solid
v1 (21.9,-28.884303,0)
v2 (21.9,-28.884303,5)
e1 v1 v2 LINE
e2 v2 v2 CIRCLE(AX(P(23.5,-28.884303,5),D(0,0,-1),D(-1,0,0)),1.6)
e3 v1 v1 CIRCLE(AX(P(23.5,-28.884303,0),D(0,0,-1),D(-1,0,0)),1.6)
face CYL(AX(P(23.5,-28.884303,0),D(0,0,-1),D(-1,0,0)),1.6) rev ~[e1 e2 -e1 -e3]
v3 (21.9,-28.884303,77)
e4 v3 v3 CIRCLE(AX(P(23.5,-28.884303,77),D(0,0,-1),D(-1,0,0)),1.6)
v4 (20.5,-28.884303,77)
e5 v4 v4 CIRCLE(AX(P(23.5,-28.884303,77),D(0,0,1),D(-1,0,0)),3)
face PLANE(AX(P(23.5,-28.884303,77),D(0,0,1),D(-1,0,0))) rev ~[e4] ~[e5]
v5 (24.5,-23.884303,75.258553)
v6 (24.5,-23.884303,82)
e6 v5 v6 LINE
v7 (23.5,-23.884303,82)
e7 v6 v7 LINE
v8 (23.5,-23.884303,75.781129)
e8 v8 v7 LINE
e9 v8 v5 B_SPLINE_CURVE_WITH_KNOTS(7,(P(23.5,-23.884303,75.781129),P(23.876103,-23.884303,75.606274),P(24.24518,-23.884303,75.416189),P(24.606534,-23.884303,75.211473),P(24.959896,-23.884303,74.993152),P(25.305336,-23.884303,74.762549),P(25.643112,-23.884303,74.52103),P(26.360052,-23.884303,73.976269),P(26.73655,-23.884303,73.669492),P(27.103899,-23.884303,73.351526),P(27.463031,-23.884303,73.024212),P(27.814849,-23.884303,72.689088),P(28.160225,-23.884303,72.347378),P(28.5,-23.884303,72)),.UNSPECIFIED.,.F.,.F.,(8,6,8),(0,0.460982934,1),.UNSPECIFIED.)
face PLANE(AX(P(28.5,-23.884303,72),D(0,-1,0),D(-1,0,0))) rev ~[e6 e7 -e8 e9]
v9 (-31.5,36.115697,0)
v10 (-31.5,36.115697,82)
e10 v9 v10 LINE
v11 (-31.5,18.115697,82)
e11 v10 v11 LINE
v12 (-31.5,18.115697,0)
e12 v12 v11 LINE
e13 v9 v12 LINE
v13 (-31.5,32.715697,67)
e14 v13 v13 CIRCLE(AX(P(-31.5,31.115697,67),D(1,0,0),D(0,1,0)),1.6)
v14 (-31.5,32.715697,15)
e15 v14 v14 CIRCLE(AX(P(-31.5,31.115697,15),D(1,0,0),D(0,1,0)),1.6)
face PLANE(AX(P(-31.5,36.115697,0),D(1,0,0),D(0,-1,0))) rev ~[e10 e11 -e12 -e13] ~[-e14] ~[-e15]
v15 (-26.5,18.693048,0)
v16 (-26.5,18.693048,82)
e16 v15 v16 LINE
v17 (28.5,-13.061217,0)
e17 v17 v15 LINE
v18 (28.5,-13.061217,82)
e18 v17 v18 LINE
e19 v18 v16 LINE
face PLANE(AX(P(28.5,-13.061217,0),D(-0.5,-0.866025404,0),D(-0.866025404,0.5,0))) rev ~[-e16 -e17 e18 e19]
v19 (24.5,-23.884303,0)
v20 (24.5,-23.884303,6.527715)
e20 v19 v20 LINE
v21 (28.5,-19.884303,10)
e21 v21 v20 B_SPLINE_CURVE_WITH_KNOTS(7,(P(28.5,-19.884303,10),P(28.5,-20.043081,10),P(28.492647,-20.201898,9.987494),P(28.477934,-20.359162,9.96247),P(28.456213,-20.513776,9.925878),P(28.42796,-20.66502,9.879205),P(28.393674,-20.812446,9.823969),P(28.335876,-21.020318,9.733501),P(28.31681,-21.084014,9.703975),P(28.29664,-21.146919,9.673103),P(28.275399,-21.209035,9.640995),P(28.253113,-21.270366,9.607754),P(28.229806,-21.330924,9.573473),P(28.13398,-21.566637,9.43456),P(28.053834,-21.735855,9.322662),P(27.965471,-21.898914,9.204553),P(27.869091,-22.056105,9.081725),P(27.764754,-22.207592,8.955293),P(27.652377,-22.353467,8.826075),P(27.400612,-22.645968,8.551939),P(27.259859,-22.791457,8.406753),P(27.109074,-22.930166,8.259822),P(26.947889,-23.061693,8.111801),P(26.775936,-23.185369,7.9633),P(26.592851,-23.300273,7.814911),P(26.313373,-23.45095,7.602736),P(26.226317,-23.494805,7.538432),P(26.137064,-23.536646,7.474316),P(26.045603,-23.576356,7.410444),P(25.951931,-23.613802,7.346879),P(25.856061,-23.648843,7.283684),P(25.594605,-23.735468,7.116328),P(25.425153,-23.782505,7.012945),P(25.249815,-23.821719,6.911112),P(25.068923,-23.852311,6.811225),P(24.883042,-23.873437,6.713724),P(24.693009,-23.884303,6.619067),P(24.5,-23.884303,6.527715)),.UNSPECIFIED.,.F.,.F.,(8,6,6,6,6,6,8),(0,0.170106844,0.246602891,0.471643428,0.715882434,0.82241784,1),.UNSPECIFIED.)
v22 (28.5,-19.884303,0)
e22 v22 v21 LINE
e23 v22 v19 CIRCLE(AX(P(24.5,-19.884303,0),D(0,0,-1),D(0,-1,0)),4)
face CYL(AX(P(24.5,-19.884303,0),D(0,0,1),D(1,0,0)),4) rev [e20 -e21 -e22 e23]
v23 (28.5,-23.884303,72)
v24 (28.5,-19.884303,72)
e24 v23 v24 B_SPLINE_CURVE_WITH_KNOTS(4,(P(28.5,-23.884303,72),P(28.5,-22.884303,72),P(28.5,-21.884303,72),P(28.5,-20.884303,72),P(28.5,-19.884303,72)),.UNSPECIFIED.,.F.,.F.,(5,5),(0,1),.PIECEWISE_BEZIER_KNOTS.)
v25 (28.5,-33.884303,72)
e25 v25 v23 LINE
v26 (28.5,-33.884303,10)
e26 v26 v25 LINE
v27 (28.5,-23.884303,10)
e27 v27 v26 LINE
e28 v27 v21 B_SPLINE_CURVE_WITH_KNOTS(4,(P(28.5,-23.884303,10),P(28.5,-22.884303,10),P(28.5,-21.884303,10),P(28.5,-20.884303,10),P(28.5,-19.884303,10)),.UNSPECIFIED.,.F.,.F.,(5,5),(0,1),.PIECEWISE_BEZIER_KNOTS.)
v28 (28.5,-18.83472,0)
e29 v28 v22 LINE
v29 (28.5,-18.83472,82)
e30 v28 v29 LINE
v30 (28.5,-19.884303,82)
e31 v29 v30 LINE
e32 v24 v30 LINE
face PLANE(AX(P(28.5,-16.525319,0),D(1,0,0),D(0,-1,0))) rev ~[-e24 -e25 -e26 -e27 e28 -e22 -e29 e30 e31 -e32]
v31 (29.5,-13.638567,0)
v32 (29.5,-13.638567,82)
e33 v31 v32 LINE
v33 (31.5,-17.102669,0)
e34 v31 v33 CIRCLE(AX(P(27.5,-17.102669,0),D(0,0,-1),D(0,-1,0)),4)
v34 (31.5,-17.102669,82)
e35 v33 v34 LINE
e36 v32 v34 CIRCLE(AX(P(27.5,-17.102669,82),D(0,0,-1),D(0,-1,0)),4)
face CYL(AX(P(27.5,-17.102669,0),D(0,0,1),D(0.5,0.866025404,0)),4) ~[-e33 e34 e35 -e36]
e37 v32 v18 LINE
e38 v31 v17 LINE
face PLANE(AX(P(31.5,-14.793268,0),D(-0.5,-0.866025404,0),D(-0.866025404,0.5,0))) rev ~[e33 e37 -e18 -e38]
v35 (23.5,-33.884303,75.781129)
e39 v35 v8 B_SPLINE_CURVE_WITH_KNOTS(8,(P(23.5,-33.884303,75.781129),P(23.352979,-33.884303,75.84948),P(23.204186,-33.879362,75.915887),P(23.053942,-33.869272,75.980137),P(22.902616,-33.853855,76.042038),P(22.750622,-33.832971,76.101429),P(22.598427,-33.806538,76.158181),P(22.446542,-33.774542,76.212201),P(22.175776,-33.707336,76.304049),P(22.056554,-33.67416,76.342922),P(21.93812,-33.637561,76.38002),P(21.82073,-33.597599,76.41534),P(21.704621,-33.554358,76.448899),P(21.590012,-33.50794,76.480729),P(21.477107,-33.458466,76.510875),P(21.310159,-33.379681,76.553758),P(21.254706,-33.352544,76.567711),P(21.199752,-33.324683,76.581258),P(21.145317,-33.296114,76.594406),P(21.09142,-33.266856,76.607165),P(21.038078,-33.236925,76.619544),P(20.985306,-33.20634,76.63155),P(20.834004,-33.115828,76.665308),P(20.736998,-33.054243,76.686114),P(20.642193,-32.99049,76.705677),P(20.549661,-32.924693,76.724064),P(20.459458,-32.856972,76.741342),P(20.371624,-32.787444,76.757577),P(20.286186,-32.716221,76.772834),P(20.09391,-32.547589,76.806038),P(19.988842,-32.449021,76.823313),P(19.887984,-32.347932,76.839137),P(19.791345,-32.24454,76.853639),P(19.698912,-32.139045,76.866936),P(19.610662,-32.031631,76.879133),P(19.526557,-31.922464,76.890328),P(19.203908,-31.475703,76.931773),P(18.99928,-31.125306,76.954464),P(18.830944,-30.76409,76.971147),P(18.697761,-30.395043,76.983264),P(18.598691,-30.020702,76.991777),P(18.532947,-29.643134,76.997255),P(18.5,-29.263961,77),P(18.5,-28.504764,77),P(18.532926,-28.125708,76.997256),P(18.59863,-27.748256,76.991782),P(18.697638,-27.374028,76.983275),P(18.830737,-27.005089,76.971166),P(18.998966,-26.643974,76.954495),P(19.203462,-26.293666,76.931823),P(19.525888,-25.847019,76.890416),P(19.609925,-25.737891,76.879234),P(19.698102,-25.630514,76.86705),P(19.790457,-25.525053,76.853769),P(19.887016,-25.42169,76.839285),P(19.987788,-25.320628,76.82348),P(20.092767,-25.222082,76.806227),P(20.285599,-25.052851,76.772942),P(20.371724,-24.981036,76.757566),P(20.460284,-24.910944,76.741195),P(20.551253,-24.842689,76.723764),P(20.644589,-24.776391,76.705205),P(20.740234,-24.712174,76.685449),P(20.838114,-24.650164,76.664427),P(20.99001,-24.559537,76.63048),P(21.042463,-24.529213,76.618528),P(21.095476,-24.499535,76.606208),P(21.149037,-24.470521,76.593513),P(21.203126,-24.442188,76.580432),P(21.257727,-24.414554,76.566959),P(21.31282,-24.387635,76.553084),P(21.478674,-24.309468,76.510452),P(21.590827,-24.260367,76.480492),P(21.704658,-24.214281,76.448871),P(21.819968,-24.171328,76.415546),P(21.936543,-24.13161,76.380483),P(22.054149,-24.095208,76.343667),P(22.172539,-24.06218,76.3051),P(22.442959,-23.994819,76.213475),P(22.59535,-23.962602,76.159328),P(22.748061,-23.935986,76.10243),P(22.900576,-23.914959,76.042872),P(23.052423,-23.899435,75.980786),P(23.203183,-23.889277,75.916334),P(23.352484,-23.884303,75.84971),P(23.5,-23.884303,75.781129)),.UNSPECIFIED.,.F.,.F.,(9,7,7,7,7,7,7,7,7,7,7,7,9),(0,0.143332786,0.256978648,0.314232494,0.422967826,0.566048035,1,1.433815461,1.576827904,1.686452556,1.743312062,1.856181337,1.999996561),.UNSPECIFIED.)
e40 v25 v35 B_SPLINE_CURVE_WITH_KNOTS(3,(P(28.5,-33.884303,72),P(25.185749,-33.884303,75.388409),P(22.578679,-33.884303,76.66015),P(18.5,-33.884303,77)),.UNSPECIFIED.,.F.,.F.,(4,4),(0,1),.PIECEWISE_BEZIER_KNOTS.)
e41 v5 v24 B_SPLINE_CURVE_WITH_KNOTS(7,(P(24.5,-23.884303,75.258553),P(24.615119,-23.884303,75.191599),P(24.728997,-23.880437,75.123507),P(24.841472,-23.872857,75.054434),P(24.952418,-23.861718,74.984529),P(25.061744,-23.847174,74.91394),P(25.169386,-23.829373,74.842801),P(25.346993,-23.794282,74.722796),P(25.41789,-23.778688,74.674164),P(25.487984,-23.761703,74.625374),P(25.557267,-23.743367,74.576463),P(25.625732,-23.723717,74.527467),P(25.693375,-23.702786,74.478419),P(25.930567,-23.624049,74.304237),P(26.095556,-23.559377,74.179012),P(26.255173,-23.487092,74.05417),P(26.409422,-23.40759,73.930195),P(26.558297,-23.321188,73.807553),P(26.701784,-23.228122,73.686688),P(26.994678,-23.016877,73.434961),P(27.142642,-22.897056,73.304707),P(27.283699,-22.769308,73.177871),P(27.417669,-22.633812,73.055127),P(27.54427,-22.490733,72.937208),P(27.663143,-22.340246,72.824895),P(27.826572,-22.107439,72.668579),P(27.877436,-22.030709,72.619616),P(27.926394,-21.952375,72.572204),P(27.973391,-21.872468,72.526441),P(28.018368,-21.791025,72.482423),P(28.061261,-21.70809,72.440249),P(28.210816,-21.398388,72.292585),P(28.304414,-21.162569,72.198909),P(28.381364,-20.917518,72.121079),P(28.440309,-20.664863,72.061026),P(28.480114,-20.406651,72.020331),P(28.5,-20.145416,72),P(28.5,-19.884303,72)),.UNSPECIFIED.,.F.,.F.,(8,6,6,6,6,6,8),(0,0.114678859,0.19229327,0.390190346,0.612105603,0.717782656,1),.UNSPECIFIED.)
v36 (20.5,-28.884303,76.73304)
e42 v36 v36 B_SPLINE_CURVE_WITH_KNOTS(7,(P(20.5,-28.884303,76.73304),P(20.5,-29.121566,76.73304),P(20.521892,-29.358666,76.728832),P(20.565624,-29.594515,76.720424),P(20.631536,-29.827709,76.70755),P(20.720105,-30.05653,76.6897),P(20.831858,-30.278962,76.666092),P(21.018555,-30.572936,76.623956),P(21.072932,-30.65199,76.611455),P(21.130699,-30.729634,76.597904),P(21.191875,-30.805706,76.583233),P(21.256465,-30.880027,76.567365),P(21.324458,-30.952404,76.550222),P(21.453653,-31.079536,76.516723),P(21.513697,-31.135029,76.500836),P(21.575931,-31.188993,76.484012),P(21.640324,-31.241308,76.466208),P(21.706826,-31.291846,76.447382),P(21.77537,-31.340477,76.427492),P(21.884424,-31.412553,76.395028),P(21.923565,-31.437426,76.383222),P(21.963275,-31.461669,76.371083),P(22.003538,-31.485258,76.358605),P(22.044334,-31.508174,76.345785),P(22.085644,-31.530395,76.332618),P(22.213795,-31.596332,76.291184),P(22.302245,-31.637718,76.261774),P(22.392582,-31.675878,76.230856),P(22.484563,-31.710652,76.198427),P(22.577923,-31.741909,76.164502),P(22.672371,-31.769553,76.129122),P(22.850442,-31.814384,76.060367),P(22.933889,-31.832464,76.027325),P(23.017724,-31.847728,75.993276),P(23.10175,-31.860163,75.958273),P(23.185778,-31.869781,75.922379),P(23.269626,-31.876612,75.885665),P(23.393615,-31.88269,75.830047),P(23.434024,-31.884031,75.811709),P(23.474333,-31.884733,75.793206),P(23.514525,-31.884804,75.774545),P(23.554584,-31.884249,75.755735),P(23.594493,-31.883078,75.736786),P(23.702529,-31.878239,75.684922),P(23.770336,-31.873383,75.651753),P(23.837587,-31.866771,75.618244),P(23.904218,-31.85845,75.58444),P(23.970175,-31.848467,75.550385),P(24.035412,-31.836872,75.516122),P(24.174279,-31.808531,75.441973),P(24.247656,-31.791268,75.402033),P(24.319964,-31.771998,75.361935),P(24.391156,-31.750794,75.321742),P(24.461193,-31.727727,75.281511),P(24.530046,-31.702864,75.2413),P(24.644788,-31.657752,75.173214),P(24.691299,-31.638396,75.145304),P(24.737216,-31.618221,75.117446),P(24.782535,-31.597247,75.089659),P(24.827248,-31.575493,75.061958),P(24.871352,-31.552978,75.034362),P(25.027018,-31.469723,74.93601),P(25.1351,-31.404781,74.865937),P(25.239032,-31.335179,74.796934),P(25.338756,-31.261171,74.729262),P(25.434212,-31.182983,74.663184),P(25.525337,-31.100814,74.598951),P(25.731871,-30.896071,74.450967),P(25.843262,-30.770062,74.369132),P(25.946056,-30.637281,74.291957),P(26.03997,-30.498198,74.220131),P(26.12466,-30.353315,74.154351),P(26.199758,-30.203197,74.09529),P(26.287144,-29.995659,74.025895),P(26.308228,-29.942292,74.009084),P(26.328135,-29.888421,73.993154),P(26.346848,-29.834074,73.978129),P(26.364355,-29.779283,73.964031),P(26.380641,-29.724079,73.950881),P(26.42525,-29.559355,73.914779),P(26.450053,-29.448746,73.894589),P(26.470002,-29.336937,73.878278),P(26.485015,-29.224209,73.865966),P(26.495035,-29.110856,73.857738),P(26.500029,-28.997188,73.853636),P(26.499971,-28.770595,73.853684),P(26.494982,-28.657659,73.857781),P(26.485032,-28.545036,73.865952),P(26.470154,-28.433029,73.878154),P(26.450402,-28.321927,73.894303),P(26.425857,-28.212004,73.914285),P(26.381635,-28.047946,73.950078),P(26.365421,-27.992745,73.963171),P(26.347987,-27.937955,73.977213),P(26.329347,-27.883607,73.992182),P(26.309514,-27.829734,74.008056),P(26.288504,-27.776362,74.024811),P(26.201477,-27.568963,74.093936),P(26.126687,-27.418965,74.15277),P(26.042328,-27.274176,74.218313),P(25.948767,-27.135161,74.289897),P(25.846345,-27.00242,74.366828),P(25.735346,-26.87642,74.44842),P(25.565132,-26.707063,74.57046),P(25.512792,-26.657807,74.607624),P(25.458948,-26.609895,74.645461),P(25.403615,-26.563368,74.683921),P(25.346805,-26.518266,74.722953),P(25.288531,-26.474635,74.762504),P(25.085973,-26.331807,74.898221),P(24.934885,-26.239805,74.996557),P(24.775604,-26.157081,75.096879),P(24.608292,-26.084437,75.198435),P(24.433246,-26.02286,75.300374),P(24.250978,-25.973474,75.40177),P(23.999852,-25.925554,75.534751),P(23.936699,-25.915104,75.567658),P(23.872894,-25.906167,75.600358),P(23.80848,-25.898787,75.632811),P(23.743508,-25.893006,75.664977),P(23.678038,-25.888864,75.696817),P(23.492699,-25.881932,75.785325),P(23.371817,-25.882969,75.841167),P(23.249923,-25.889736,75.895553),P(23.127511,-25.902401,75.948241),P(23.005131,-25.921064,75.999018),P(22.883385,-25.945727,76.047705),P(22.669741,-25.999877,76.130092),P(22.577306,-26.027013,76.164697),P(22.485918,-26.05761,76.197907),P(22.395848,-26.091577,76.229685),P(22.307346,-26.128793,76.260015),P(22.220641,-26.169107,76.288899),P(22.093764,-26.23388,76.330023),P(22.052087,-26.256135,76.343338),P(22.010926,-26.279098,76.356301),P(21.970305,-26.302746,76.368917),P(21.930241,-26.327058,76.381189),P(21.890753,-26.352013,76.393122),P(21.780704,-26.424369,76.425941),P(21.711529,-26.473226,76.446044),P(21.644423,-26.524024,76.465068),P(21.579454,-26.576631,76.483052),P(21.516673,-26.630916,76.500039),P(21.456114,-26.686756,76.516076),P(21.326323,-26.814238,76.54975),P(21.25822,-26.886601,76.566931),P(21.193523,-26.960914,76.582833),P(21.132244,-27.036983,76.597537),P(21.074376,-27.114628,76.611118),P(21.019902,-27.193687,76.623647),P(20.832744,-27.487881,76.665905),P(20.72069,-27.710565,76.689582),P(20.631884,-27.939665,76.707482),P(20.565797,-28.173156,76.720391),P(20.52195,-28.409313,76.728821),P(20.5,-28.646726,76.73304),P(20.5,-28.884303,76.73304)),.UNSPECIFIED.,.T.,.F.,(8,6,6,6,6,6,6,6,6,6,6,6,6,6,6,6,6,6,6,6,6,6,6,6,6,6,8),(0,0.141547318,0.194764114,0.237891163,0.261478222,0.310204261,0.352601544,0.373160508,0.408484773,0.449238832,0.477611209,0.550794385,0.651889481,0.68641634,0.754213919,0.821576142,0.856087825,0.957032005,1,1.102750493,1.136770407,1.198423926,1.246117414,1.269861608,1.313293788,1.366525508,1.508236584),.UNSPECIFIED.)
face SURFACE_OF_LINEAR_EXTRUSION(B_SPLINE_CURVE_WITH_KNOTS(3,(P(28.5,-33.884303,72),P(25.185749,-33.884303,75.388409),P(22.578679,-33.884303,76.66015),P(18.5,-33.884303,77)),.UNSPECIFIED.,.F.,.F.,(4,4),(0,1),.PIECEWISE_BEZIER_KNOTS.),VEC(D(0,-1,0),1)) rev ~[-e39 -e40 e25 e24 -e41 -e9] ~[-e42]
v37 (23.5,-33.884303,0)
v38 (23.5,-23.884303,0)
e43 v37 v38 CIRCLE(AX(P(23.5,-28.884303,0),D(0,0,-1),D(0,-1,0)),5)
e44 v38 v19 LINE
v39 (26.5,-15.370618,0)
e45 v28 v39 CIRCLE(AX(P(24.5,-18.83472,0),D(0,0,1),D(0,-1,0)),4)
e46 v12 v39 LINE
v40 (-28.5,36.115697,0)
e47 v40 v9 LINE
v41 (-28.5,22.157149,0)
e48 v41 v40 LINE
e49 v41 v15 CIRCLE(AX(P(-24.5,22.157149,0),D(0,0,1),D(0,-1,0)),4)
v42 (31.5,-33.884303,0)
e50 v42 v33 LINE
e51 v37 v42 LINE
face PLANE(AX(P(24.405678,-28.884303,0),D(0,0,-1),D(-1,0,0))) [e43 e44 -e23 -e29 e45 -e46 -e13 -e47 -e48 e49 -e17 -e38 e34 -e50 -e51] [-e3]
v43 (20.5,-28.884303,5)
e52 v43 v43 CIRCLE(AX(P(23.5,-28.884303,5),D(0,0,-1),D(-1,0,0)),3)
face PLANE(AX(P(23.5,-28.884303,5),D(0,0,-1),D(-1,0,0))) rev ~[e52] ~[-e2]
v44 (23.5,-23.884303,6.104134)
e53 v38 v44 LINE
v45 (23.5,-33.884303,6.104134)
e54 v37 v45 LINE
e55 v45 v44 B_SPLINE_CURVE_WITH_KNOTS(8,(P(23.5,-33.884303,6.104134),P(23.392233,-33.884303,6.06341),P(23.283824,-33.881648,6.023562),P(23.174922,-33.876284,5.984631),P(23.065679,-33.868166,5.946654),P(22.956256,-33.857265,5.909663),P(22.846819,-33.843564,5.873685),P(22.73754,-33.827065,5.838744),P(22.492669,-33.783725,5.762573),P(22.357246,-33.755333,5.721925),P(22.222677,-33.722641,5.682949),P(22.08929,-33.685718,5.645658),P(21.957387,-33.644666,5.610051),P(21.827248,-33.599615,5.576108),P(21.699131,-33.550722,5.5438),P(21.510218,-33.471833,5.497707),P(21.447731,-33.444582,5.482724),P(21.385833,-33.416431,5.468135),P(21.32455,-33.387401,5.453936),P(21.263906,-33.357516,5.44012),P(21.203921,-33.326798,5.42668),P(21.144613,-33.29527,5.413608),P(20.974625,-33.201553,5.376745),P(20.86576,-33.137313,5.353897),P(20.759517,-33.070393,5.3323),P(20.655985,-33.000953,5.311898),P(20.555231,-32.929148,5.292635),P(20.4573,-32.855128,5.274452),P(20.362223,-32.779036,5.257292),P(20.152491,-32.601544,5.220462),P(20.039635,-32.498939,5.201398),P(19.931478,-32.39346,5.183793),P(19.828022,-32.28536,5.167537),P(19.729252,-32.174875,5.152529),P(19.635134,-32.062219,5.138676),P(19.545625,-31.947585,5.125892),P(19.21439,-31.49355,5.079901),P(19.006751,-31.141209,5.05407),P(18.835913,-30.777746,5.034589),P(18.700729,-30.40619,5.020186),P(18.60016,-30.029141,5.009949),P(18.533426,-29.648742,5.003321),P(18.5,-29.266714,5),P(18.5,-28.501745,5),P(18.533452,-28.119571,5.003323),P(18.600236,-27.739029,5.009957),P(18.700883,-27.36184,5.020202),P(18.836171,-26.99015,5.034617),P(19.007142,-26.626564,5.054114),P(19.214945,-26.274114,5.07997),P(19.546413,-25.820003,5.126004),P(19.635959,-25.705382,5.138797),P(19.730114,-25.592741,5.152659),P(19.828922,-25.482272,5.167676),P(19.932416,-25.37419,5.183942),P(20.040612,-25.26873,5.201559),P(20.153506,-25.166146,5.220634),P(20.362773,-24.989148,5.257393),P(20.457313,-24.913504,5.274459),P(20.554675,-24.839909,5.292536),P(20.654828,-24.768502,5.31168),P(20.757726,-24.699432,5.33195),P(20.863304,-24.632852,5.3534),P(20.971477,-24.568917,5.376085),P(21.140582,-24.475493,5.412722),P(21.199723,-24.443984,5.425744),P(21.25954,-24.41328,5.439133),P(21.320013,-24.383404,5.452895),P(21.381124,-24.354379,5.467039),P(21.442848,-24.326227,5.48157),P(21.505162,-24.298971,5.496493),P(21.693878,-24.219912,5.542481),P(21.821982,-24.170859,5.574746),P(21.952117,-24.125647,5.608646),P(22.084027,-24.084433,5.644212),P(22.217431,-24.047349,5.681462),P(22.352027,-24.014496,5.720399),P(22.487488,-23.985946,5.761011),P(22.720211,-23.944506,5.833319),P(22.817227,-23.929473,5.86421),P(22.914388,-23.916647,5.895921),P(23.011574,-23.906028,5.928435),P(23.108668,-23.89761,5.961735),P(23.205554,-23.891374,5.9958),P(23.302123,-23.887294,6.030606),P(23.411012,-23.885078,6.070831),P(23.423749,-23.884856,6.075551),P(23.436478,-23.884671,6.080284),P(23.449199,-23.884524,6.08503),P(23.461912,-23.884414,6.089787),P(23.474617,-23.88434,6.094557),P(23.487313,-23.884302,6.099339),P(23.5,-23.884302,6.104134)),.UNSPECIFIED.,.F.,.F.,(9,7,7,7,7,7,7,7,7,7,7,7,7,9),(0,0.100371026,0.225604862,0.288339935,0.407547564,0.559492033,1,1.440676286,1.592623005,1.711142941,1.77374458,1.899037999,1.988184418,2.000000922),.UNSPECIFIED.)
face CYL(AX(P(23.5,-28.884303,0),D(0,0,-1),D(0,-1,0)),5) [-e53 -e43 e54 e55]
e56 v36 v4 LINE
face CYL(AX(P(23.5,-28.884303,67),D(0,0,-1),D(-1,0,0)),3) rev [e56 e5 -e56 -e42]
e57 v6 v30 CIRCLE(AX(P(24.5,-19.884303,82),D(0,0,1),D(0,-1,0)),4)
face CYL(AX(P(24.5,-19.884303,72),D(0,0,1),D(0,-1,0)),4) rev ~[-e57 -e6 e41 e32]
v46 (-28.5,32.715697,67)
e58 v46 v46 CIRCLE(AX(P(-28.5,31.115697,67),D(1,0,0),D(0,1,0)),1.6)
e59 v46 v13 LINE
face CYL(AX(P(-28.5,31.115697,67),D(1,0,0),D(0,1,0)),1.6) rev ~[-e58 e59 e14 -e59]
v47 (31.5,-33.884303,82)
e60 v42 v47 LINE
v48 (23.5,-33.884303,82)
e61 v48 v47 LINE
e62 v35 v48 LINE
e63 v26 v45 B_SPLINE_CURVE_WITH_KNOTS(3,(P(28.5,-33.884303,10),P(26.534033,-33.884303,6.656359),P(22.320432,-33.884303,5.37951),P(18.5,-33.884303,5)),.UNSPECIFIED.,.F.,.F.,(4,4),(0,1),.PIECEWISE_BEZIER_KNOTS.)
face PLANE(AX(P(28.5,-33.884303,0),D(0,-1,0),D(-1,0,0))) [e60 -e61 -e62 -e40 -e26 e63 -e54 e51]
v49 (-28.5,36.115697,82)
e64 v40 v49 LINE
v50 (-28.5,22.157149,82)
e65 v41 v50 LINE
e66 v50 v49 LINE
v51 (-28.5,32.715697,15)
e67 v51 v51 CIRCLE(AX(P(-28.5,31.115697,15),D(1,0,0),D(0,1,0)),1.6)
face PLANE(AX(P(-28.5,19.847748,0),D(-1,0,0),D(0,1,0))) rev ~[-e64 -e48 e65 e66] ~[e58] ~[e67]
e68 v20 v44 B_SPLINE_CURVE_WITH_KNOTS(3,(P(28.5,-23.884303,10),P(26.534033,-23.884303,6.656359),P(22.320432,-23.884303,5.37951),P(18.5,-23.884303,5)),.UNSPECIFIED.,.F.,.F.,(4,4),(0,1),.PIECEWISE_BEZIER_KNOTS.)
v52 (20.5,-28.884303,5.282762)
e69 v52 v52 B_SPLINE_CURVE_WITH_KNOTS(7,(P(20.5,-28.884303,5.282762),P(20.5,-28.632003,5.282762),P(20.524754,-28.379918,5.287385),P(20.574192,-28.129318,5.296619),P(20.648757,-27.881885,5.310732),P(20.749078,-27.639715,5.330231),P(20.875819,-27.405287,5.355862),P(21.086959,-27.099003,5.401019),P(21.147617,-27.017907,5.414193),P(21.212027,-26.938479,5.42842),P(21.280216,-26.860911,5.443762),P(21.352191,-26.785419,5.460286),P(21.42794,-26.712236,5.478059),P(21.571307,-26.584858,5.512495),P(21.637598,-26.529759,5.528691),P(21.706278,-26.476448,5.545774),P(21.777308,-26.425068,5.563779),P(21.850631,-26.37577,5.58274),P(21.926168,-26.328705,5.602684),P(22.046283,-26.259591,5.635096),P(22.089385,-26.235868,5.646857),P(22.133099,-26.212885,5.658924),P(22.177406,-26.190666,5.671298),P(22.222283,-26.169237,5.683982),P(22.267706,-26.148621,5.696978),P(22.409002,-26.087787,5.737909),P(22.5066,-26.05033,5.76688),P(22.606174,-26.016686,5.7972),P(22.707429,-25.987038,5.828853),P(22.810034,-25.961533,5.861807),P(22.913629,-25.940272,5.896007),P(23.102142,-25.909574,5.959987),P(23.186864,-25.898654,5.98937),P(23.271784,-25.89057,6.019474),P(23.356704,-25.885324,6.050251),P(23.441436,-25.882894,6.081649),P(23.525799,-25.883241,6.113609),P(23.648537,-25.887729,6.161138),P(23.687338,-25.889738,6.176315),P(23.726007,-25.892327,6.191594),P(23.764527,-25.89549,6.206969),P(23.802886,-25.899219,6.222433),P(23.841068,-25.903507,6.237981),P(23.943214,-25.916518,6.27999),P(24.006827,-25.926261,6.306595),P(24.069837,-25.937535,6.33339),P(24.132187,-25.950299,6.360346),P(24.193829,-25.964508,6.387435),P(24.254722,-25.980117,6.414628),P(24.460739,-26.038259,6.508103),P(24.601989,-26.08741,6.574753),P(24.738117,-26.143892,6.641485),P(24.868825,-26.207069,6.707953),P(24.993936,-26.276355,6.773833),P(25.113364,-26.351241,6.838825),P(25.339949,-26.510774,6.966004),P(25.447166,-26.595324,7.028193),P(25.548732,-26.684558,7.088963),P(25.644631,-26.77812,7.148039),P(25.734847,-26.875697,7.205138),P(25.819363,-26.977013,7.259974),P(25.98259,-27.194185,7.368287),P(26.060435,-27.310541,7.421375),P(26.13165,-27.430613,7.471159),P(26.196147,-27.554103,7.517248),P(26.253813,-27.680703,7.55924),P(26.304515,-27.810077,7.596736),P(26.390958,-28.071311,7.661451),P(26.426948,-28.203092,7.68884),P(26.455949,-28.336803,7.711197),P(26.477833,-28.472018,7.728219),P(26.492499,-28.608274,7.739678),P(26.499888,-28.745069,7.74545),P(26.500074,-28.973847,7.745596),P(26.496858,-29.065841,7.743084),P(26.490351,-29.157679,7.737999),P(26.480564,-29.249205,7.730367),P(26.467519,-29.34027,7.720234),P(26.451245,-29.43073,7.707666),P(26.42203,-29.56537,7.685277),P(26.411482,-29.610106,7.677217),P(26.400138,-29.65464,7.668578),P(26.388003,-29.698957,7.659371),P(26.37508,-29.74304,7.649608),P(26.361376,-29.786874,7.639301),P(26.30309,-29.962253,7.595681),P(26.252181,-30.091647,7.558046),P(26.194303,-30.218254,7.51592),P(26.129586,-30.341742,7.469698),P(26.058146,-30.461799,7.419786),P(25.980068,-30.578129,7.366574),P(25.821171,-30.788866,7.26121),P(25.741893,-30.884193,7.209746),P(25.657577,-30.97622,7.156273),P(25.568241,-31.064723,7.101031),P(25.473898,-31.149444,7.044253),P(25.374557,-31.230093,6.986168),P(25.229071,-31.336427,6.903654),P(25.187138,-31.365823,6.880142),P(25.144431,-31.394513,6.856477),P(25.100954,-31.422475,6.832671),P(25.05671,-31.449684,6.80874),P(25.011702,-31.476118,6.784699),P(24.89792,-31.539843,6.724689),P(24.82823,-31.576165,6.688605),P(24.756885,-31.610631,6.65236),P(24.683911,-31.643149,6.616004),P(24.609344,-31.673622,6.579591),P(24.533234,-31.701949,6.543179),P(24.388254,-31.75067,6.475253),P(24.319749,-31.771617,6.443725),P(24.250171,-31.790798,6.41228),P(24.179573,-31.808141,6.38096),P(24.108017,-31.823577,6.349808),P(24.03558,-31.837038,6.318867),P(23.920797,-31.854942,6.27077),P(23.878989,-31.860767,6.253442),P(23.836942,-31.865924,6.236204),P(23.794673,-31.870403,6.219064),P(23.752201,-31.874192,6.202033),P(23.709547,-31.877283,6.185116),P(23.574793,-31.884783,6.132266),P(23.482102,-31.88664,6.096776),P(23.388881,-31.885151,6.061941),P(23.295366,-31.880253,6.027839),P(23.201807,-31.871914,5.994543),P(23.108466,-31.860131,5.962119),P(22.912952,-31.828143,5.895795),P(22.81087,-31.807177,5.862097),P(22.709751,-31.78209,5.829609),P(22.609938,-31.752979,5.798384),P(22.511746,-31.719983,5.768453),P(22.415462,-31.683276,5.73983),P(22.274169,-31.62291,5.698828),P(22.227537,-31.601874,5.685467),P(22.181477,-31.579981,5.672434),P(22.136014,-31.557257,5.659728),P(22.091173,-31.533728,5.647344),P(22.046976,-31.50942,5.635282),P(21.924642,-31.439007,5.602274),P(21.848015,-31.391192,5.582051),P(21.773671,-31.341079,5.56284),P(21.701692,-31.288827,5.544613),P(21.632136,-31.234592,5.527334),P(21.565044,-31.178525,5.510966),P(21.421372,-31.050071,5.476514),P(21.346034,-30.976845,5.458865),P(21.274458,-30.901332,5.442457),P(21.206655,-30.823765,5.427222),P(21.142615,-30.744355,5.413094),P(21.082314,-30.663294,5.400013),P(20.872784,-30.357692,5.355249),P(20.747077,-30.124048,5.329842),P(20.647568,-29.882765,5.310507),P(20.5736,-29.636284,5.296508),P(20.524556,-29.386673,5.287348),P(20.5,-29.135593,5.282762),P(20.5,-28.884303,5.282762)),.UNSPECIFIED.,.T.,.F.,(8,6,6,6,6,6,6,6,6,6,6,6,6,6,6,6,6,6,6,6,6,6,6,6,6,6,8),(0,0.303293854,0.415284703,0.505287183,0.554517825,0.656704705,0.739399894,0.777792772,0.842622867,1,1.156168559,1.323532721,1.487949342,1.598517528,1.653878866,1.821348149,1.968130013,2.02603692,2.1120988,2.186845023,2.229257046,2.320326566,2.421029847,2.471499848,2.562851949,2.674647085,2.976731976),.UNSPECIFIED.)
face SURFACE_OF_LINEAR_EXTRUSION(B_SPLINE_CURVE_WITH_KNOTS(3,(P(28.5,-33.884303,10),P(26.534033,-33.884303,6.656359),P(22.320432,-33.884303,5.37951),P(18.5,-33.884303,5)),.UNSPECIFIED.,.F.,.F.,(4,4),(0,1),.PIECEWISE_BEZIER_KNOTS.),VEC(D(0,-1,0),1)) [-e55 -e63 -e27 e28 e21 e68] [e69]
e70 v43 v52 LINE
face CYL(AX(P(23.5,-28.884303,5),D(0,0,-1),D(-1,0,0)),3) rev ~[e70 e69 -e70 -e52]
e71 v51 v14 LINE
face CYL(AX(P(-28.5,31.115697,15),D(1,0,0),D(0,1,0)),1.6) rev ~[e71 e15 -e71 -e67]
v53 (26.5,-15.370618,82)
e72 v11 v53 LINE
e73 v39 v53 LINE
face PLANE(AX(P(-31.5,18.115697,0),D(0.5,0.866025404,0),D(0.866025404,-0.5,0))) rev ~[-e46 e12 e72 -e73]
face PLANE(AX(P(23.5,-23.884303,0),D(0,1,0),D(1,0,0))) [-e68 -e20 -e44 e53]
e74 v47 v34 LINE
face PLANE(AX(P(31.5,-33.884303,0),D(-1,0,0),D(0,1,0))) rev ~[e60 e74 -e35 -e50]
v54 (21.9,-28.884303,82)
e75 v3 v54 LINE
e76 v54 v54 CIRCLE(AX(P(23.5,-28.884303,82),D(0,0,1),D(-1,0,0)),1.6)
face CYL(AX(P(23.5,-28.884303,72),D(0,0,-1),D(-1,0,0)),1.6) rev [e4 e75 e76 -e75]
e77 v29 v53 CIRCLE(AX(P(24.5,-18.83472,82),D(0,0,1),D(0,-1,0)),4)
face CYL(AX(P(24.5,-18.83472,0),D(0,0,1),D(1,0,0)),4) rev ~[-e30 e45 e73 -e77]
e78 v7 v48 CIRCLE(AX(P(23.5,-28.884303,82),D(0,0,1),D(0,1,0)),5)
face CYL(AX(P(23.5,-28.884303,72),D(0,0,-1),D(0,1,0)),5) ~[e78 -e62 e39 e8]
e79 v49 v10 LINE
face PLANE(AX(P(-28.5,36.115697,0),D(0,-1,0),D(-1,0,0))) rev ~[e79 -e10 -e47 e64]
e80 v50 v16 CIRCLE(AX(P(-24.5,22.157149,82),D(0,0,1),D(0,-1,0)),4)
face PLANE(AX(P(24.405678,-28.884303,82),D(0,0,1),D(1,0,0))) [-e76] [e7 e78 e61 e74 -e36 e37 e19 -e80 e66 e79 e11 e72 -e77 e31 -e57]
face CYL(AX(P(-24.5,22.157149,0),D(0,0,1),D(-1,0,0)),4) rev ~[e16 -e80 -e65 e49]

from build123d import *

# Parameters (mm, degrees)
EXTRUDE_1_DEPTH     = 82
CUT_EXTRUDE_1_REACH = 109.835
SKETCH_2_R          = 1.6
SKETCH_3_R          = 1.6
EXTRUDE_2_DEPTH     = 10
CUT_EXTRUDE_2_DEPTH = 10
SKETCH_5_R          = 3
CUT_EXTRUDE_3_DEPTH = 10
EXTRUDE_START       = -10
SKETCH_6_R          = 1.6
EXTRUDE_3_DEPTH     = 10
CUT_EXTRUDE_4_REACH = 114.322
CUT_EXTRUDE_START   = -10
SKETCH_8_R          = 3
CUT_EXTRUDE_5_DEPTH = 10
FILLET_1_R          = 4


with BuildPart() as part:
    # 草图1 → 凸台-拉伸1 (new body)
    with BuildSketch(Plane.XY):
        Polygon((-31.5, 18.115697408), (28.5, -16.525318744), (28.5, -33.884302592), (31.5, -33.884302592), (31.5, -14.793267936), (28.5, -13.061217128), (-28.5, 19.847748215), (-28.5, 36.115697408), (-31.5, 36.115697408), align=None)
    extrude(amount=EXTRUDE_1_DEPTH)

    # 草图2 → 切除-拉伸1 (cut, up to next)
    with BuildSketch(Plane(origin=(-28.5, 0, 0), x_dir=(0, 0, -1), z_dir=(1, 0, 0)), mode=Mode.PRIVATE) as cut_extrude_1_sk1:
        with Locations(Location((-67, 31.115697408, 0), (0, 0, 90))):
            Circle(SKETCH_2_R)
    cut_extrude_1_tool1 = extrude(cut_extrude_1_sk1.sketch, amount=-CUT_EXTRUDE_1_REACH, mode=Mode.PRIVATE) & part.part
    # 草图2 → 切除-拉伸1 (cut, up to next)
    with BuildSketch(Plane(origin=(-28.5, 0, 0), x_dir=(0, 0, -1), z_dir=(1, 0, 0)), mode=Mode.PRIVATE) as cut_extrude_1_sk2:
        with Locations(Location((-15, 31.115697408, 0), (0, 0, 90))):
            Circle(SKETCH_2_R)
    cut_extrude_1_tool2 = extrude(cut_extrude_1_sk2.sketch, amount=-CUT_EXTRUDE_1_REACH, mode=Mode.PRIVATE) & part.part
    add(cut_extrude_1_tool1.solids().sort_by_distance((-28.5, 31.115697, 67))[0], mode=Mode.SUBTRACT)
    add(cut_extrude_1_tool2.solids().sort_by_distance((-28.5, 31.115697, 15))[0], mode=Mode.SUBTRACT)

    # 草图3 → 凸台-拉伸2 (add)
    with BuildSketch(Plane(origin=(0, 0, 0), x_dir=(-1, 0, 0), z_dir=(0, 0, -1))):
        with BuildLine():
            Line((-28.5, -33.884302592), (-23.5, -33.884302592))
            ThreePointArc((-23.5, -33.884302592), (-18.5, -28.884302592), (-23.5, -23.884302592))
            Line((-23.5, -23.884302592), (-28.5, -23.884302592))
            Line((-28.5, -23.884302592), (-28.5, -33.884302592))
        make_face()
        with Locations((-23.5, -28.884302592)):
            Circle(SKETCH_3_R, mode=Mode.SUBTRACT)
    extrude(amount=-EXTRUDE_2_DEPTH)

    # 草图4 → 切除-拉伸2 (cut)
    with BuildSketch(Plane.XZ.offset(33.884302592)):
        with BuildLine():
            Line((15.48929146, 10), (15.48929146, 5))
            Line((15.48929146, 5), (18.5, 5))
            add(Edge.make_bspline(
                [(28.5, 10), (26.534032888, 6.656358998), (22.320432112, 5.379510278), (18.5, 5)],
                knots=[0, 0, 0, 0, 1, 1, 1, 1], degree=3))
            Line((28.5, 10), (15.48929146, 10))
        make_face()
    extrude(amount=-CUT_EXTRUDE_2_DEPTH, mode=Mode.SUBTRACT)

    # 草图5 → 切除-拉伸3 (cut)
    with BuildSketch(Plane(origin=(0, 0, 5), x_dir=(-1, 0, 0), z_dir=(0, 0, -1))):
        with Locations((-23.5, -28.884302592)):
            Circle(SKETCH_5_R)
    extrude(amount=-CUT_EXTRUDE_3_DEPTH, mode=Mode.SUBTRACT)

    # 草图6 → 凸台-拉伸3 (add)
    with BuildSketch(Plane.XY.offset(82).offset(EXTRUDE_START)):
        with BuildLine():
            Line((28.5, -23.884302592), (23.5, -23.884302592))
            ThreePointArc((23.5, -23.884302592), (18.5, -28.884302592), (23.5, -33.884302592))
            Line((23.5, -33.884302592), (28.5, -33.884302592))
            Line((28.5, -33.884302592), (28.5, -23.884302592))
        make_face()
        with Locations(Location((23.5, -28.884302592, 0), (0, 0, 180))):
            Circle(SKETCH_6_R, mode=Mode.SUBTRACT)
    extrude(amount=EXTRUDE_3_DEPTH)

    # 草图7 → 切除-拉伸4 (cut, up to next)
    with BuildSketch(Plane.XZ.offset(33.884302592), mode=Mode.PRIVATE) as cut_extrude_4_sk1:
        with BuildLine():
            Line((28.5, 72), (15.711275948, 72))
            Line((15.711275948, 72), (15.711275948, 77))
            Line((15.711275948, 77), (18.5, 77))
            add(Edge.make_bspline(
                [(28.5, 72), (25.18574882, 75.388408821), (22.578679104, 76.660150146), (18.5, 77)],
                knots=[0, 0, 0, 0, 1, 1, 1, 1], degree=3))
        make_face()
    cut_extrude_4_tool1 = extrude(cut_extrude_4_sk1.sketch, amount=-CUT_EXTRUDE_4_REACH, mode=Mode.PRIVATE) & part.part
    add(cut_extrude_4_tool1.solids().sort_by_distance((20.757737, -33.884303, 74.139279))[0], mode=Mode.SUBTRACT)

    # 草图8 → 切除-拉伸5 (cut)
    with BuildSketch(Plane.XY.offset(77).offset(CUT_EXTRUDE_START)):
        with Locations(Location((23.5, -28.884302592, 0), (0, 0, 180))):
            Circle(SKETCH_8_R)
    extrude(amount=CUT_EXTRUDE_5_DEPTH, mode=Mode.SUBTRACT)

    # 圆角1
    fillet_1_edges = [part.edges().sort_by_distance(p)[0] for p in [
        (28.5, -16.525318744, 41),
        (31.5, -14.793267936, 41),
        (-28.5, 19.847748215, 41),
        (28.5, -23.884302592, 77),
        (28.5, -23.884302592, 5),
    ]]
    fillet(fillet_1_edges, radius=FILLET_1_R)


solid = part.part
